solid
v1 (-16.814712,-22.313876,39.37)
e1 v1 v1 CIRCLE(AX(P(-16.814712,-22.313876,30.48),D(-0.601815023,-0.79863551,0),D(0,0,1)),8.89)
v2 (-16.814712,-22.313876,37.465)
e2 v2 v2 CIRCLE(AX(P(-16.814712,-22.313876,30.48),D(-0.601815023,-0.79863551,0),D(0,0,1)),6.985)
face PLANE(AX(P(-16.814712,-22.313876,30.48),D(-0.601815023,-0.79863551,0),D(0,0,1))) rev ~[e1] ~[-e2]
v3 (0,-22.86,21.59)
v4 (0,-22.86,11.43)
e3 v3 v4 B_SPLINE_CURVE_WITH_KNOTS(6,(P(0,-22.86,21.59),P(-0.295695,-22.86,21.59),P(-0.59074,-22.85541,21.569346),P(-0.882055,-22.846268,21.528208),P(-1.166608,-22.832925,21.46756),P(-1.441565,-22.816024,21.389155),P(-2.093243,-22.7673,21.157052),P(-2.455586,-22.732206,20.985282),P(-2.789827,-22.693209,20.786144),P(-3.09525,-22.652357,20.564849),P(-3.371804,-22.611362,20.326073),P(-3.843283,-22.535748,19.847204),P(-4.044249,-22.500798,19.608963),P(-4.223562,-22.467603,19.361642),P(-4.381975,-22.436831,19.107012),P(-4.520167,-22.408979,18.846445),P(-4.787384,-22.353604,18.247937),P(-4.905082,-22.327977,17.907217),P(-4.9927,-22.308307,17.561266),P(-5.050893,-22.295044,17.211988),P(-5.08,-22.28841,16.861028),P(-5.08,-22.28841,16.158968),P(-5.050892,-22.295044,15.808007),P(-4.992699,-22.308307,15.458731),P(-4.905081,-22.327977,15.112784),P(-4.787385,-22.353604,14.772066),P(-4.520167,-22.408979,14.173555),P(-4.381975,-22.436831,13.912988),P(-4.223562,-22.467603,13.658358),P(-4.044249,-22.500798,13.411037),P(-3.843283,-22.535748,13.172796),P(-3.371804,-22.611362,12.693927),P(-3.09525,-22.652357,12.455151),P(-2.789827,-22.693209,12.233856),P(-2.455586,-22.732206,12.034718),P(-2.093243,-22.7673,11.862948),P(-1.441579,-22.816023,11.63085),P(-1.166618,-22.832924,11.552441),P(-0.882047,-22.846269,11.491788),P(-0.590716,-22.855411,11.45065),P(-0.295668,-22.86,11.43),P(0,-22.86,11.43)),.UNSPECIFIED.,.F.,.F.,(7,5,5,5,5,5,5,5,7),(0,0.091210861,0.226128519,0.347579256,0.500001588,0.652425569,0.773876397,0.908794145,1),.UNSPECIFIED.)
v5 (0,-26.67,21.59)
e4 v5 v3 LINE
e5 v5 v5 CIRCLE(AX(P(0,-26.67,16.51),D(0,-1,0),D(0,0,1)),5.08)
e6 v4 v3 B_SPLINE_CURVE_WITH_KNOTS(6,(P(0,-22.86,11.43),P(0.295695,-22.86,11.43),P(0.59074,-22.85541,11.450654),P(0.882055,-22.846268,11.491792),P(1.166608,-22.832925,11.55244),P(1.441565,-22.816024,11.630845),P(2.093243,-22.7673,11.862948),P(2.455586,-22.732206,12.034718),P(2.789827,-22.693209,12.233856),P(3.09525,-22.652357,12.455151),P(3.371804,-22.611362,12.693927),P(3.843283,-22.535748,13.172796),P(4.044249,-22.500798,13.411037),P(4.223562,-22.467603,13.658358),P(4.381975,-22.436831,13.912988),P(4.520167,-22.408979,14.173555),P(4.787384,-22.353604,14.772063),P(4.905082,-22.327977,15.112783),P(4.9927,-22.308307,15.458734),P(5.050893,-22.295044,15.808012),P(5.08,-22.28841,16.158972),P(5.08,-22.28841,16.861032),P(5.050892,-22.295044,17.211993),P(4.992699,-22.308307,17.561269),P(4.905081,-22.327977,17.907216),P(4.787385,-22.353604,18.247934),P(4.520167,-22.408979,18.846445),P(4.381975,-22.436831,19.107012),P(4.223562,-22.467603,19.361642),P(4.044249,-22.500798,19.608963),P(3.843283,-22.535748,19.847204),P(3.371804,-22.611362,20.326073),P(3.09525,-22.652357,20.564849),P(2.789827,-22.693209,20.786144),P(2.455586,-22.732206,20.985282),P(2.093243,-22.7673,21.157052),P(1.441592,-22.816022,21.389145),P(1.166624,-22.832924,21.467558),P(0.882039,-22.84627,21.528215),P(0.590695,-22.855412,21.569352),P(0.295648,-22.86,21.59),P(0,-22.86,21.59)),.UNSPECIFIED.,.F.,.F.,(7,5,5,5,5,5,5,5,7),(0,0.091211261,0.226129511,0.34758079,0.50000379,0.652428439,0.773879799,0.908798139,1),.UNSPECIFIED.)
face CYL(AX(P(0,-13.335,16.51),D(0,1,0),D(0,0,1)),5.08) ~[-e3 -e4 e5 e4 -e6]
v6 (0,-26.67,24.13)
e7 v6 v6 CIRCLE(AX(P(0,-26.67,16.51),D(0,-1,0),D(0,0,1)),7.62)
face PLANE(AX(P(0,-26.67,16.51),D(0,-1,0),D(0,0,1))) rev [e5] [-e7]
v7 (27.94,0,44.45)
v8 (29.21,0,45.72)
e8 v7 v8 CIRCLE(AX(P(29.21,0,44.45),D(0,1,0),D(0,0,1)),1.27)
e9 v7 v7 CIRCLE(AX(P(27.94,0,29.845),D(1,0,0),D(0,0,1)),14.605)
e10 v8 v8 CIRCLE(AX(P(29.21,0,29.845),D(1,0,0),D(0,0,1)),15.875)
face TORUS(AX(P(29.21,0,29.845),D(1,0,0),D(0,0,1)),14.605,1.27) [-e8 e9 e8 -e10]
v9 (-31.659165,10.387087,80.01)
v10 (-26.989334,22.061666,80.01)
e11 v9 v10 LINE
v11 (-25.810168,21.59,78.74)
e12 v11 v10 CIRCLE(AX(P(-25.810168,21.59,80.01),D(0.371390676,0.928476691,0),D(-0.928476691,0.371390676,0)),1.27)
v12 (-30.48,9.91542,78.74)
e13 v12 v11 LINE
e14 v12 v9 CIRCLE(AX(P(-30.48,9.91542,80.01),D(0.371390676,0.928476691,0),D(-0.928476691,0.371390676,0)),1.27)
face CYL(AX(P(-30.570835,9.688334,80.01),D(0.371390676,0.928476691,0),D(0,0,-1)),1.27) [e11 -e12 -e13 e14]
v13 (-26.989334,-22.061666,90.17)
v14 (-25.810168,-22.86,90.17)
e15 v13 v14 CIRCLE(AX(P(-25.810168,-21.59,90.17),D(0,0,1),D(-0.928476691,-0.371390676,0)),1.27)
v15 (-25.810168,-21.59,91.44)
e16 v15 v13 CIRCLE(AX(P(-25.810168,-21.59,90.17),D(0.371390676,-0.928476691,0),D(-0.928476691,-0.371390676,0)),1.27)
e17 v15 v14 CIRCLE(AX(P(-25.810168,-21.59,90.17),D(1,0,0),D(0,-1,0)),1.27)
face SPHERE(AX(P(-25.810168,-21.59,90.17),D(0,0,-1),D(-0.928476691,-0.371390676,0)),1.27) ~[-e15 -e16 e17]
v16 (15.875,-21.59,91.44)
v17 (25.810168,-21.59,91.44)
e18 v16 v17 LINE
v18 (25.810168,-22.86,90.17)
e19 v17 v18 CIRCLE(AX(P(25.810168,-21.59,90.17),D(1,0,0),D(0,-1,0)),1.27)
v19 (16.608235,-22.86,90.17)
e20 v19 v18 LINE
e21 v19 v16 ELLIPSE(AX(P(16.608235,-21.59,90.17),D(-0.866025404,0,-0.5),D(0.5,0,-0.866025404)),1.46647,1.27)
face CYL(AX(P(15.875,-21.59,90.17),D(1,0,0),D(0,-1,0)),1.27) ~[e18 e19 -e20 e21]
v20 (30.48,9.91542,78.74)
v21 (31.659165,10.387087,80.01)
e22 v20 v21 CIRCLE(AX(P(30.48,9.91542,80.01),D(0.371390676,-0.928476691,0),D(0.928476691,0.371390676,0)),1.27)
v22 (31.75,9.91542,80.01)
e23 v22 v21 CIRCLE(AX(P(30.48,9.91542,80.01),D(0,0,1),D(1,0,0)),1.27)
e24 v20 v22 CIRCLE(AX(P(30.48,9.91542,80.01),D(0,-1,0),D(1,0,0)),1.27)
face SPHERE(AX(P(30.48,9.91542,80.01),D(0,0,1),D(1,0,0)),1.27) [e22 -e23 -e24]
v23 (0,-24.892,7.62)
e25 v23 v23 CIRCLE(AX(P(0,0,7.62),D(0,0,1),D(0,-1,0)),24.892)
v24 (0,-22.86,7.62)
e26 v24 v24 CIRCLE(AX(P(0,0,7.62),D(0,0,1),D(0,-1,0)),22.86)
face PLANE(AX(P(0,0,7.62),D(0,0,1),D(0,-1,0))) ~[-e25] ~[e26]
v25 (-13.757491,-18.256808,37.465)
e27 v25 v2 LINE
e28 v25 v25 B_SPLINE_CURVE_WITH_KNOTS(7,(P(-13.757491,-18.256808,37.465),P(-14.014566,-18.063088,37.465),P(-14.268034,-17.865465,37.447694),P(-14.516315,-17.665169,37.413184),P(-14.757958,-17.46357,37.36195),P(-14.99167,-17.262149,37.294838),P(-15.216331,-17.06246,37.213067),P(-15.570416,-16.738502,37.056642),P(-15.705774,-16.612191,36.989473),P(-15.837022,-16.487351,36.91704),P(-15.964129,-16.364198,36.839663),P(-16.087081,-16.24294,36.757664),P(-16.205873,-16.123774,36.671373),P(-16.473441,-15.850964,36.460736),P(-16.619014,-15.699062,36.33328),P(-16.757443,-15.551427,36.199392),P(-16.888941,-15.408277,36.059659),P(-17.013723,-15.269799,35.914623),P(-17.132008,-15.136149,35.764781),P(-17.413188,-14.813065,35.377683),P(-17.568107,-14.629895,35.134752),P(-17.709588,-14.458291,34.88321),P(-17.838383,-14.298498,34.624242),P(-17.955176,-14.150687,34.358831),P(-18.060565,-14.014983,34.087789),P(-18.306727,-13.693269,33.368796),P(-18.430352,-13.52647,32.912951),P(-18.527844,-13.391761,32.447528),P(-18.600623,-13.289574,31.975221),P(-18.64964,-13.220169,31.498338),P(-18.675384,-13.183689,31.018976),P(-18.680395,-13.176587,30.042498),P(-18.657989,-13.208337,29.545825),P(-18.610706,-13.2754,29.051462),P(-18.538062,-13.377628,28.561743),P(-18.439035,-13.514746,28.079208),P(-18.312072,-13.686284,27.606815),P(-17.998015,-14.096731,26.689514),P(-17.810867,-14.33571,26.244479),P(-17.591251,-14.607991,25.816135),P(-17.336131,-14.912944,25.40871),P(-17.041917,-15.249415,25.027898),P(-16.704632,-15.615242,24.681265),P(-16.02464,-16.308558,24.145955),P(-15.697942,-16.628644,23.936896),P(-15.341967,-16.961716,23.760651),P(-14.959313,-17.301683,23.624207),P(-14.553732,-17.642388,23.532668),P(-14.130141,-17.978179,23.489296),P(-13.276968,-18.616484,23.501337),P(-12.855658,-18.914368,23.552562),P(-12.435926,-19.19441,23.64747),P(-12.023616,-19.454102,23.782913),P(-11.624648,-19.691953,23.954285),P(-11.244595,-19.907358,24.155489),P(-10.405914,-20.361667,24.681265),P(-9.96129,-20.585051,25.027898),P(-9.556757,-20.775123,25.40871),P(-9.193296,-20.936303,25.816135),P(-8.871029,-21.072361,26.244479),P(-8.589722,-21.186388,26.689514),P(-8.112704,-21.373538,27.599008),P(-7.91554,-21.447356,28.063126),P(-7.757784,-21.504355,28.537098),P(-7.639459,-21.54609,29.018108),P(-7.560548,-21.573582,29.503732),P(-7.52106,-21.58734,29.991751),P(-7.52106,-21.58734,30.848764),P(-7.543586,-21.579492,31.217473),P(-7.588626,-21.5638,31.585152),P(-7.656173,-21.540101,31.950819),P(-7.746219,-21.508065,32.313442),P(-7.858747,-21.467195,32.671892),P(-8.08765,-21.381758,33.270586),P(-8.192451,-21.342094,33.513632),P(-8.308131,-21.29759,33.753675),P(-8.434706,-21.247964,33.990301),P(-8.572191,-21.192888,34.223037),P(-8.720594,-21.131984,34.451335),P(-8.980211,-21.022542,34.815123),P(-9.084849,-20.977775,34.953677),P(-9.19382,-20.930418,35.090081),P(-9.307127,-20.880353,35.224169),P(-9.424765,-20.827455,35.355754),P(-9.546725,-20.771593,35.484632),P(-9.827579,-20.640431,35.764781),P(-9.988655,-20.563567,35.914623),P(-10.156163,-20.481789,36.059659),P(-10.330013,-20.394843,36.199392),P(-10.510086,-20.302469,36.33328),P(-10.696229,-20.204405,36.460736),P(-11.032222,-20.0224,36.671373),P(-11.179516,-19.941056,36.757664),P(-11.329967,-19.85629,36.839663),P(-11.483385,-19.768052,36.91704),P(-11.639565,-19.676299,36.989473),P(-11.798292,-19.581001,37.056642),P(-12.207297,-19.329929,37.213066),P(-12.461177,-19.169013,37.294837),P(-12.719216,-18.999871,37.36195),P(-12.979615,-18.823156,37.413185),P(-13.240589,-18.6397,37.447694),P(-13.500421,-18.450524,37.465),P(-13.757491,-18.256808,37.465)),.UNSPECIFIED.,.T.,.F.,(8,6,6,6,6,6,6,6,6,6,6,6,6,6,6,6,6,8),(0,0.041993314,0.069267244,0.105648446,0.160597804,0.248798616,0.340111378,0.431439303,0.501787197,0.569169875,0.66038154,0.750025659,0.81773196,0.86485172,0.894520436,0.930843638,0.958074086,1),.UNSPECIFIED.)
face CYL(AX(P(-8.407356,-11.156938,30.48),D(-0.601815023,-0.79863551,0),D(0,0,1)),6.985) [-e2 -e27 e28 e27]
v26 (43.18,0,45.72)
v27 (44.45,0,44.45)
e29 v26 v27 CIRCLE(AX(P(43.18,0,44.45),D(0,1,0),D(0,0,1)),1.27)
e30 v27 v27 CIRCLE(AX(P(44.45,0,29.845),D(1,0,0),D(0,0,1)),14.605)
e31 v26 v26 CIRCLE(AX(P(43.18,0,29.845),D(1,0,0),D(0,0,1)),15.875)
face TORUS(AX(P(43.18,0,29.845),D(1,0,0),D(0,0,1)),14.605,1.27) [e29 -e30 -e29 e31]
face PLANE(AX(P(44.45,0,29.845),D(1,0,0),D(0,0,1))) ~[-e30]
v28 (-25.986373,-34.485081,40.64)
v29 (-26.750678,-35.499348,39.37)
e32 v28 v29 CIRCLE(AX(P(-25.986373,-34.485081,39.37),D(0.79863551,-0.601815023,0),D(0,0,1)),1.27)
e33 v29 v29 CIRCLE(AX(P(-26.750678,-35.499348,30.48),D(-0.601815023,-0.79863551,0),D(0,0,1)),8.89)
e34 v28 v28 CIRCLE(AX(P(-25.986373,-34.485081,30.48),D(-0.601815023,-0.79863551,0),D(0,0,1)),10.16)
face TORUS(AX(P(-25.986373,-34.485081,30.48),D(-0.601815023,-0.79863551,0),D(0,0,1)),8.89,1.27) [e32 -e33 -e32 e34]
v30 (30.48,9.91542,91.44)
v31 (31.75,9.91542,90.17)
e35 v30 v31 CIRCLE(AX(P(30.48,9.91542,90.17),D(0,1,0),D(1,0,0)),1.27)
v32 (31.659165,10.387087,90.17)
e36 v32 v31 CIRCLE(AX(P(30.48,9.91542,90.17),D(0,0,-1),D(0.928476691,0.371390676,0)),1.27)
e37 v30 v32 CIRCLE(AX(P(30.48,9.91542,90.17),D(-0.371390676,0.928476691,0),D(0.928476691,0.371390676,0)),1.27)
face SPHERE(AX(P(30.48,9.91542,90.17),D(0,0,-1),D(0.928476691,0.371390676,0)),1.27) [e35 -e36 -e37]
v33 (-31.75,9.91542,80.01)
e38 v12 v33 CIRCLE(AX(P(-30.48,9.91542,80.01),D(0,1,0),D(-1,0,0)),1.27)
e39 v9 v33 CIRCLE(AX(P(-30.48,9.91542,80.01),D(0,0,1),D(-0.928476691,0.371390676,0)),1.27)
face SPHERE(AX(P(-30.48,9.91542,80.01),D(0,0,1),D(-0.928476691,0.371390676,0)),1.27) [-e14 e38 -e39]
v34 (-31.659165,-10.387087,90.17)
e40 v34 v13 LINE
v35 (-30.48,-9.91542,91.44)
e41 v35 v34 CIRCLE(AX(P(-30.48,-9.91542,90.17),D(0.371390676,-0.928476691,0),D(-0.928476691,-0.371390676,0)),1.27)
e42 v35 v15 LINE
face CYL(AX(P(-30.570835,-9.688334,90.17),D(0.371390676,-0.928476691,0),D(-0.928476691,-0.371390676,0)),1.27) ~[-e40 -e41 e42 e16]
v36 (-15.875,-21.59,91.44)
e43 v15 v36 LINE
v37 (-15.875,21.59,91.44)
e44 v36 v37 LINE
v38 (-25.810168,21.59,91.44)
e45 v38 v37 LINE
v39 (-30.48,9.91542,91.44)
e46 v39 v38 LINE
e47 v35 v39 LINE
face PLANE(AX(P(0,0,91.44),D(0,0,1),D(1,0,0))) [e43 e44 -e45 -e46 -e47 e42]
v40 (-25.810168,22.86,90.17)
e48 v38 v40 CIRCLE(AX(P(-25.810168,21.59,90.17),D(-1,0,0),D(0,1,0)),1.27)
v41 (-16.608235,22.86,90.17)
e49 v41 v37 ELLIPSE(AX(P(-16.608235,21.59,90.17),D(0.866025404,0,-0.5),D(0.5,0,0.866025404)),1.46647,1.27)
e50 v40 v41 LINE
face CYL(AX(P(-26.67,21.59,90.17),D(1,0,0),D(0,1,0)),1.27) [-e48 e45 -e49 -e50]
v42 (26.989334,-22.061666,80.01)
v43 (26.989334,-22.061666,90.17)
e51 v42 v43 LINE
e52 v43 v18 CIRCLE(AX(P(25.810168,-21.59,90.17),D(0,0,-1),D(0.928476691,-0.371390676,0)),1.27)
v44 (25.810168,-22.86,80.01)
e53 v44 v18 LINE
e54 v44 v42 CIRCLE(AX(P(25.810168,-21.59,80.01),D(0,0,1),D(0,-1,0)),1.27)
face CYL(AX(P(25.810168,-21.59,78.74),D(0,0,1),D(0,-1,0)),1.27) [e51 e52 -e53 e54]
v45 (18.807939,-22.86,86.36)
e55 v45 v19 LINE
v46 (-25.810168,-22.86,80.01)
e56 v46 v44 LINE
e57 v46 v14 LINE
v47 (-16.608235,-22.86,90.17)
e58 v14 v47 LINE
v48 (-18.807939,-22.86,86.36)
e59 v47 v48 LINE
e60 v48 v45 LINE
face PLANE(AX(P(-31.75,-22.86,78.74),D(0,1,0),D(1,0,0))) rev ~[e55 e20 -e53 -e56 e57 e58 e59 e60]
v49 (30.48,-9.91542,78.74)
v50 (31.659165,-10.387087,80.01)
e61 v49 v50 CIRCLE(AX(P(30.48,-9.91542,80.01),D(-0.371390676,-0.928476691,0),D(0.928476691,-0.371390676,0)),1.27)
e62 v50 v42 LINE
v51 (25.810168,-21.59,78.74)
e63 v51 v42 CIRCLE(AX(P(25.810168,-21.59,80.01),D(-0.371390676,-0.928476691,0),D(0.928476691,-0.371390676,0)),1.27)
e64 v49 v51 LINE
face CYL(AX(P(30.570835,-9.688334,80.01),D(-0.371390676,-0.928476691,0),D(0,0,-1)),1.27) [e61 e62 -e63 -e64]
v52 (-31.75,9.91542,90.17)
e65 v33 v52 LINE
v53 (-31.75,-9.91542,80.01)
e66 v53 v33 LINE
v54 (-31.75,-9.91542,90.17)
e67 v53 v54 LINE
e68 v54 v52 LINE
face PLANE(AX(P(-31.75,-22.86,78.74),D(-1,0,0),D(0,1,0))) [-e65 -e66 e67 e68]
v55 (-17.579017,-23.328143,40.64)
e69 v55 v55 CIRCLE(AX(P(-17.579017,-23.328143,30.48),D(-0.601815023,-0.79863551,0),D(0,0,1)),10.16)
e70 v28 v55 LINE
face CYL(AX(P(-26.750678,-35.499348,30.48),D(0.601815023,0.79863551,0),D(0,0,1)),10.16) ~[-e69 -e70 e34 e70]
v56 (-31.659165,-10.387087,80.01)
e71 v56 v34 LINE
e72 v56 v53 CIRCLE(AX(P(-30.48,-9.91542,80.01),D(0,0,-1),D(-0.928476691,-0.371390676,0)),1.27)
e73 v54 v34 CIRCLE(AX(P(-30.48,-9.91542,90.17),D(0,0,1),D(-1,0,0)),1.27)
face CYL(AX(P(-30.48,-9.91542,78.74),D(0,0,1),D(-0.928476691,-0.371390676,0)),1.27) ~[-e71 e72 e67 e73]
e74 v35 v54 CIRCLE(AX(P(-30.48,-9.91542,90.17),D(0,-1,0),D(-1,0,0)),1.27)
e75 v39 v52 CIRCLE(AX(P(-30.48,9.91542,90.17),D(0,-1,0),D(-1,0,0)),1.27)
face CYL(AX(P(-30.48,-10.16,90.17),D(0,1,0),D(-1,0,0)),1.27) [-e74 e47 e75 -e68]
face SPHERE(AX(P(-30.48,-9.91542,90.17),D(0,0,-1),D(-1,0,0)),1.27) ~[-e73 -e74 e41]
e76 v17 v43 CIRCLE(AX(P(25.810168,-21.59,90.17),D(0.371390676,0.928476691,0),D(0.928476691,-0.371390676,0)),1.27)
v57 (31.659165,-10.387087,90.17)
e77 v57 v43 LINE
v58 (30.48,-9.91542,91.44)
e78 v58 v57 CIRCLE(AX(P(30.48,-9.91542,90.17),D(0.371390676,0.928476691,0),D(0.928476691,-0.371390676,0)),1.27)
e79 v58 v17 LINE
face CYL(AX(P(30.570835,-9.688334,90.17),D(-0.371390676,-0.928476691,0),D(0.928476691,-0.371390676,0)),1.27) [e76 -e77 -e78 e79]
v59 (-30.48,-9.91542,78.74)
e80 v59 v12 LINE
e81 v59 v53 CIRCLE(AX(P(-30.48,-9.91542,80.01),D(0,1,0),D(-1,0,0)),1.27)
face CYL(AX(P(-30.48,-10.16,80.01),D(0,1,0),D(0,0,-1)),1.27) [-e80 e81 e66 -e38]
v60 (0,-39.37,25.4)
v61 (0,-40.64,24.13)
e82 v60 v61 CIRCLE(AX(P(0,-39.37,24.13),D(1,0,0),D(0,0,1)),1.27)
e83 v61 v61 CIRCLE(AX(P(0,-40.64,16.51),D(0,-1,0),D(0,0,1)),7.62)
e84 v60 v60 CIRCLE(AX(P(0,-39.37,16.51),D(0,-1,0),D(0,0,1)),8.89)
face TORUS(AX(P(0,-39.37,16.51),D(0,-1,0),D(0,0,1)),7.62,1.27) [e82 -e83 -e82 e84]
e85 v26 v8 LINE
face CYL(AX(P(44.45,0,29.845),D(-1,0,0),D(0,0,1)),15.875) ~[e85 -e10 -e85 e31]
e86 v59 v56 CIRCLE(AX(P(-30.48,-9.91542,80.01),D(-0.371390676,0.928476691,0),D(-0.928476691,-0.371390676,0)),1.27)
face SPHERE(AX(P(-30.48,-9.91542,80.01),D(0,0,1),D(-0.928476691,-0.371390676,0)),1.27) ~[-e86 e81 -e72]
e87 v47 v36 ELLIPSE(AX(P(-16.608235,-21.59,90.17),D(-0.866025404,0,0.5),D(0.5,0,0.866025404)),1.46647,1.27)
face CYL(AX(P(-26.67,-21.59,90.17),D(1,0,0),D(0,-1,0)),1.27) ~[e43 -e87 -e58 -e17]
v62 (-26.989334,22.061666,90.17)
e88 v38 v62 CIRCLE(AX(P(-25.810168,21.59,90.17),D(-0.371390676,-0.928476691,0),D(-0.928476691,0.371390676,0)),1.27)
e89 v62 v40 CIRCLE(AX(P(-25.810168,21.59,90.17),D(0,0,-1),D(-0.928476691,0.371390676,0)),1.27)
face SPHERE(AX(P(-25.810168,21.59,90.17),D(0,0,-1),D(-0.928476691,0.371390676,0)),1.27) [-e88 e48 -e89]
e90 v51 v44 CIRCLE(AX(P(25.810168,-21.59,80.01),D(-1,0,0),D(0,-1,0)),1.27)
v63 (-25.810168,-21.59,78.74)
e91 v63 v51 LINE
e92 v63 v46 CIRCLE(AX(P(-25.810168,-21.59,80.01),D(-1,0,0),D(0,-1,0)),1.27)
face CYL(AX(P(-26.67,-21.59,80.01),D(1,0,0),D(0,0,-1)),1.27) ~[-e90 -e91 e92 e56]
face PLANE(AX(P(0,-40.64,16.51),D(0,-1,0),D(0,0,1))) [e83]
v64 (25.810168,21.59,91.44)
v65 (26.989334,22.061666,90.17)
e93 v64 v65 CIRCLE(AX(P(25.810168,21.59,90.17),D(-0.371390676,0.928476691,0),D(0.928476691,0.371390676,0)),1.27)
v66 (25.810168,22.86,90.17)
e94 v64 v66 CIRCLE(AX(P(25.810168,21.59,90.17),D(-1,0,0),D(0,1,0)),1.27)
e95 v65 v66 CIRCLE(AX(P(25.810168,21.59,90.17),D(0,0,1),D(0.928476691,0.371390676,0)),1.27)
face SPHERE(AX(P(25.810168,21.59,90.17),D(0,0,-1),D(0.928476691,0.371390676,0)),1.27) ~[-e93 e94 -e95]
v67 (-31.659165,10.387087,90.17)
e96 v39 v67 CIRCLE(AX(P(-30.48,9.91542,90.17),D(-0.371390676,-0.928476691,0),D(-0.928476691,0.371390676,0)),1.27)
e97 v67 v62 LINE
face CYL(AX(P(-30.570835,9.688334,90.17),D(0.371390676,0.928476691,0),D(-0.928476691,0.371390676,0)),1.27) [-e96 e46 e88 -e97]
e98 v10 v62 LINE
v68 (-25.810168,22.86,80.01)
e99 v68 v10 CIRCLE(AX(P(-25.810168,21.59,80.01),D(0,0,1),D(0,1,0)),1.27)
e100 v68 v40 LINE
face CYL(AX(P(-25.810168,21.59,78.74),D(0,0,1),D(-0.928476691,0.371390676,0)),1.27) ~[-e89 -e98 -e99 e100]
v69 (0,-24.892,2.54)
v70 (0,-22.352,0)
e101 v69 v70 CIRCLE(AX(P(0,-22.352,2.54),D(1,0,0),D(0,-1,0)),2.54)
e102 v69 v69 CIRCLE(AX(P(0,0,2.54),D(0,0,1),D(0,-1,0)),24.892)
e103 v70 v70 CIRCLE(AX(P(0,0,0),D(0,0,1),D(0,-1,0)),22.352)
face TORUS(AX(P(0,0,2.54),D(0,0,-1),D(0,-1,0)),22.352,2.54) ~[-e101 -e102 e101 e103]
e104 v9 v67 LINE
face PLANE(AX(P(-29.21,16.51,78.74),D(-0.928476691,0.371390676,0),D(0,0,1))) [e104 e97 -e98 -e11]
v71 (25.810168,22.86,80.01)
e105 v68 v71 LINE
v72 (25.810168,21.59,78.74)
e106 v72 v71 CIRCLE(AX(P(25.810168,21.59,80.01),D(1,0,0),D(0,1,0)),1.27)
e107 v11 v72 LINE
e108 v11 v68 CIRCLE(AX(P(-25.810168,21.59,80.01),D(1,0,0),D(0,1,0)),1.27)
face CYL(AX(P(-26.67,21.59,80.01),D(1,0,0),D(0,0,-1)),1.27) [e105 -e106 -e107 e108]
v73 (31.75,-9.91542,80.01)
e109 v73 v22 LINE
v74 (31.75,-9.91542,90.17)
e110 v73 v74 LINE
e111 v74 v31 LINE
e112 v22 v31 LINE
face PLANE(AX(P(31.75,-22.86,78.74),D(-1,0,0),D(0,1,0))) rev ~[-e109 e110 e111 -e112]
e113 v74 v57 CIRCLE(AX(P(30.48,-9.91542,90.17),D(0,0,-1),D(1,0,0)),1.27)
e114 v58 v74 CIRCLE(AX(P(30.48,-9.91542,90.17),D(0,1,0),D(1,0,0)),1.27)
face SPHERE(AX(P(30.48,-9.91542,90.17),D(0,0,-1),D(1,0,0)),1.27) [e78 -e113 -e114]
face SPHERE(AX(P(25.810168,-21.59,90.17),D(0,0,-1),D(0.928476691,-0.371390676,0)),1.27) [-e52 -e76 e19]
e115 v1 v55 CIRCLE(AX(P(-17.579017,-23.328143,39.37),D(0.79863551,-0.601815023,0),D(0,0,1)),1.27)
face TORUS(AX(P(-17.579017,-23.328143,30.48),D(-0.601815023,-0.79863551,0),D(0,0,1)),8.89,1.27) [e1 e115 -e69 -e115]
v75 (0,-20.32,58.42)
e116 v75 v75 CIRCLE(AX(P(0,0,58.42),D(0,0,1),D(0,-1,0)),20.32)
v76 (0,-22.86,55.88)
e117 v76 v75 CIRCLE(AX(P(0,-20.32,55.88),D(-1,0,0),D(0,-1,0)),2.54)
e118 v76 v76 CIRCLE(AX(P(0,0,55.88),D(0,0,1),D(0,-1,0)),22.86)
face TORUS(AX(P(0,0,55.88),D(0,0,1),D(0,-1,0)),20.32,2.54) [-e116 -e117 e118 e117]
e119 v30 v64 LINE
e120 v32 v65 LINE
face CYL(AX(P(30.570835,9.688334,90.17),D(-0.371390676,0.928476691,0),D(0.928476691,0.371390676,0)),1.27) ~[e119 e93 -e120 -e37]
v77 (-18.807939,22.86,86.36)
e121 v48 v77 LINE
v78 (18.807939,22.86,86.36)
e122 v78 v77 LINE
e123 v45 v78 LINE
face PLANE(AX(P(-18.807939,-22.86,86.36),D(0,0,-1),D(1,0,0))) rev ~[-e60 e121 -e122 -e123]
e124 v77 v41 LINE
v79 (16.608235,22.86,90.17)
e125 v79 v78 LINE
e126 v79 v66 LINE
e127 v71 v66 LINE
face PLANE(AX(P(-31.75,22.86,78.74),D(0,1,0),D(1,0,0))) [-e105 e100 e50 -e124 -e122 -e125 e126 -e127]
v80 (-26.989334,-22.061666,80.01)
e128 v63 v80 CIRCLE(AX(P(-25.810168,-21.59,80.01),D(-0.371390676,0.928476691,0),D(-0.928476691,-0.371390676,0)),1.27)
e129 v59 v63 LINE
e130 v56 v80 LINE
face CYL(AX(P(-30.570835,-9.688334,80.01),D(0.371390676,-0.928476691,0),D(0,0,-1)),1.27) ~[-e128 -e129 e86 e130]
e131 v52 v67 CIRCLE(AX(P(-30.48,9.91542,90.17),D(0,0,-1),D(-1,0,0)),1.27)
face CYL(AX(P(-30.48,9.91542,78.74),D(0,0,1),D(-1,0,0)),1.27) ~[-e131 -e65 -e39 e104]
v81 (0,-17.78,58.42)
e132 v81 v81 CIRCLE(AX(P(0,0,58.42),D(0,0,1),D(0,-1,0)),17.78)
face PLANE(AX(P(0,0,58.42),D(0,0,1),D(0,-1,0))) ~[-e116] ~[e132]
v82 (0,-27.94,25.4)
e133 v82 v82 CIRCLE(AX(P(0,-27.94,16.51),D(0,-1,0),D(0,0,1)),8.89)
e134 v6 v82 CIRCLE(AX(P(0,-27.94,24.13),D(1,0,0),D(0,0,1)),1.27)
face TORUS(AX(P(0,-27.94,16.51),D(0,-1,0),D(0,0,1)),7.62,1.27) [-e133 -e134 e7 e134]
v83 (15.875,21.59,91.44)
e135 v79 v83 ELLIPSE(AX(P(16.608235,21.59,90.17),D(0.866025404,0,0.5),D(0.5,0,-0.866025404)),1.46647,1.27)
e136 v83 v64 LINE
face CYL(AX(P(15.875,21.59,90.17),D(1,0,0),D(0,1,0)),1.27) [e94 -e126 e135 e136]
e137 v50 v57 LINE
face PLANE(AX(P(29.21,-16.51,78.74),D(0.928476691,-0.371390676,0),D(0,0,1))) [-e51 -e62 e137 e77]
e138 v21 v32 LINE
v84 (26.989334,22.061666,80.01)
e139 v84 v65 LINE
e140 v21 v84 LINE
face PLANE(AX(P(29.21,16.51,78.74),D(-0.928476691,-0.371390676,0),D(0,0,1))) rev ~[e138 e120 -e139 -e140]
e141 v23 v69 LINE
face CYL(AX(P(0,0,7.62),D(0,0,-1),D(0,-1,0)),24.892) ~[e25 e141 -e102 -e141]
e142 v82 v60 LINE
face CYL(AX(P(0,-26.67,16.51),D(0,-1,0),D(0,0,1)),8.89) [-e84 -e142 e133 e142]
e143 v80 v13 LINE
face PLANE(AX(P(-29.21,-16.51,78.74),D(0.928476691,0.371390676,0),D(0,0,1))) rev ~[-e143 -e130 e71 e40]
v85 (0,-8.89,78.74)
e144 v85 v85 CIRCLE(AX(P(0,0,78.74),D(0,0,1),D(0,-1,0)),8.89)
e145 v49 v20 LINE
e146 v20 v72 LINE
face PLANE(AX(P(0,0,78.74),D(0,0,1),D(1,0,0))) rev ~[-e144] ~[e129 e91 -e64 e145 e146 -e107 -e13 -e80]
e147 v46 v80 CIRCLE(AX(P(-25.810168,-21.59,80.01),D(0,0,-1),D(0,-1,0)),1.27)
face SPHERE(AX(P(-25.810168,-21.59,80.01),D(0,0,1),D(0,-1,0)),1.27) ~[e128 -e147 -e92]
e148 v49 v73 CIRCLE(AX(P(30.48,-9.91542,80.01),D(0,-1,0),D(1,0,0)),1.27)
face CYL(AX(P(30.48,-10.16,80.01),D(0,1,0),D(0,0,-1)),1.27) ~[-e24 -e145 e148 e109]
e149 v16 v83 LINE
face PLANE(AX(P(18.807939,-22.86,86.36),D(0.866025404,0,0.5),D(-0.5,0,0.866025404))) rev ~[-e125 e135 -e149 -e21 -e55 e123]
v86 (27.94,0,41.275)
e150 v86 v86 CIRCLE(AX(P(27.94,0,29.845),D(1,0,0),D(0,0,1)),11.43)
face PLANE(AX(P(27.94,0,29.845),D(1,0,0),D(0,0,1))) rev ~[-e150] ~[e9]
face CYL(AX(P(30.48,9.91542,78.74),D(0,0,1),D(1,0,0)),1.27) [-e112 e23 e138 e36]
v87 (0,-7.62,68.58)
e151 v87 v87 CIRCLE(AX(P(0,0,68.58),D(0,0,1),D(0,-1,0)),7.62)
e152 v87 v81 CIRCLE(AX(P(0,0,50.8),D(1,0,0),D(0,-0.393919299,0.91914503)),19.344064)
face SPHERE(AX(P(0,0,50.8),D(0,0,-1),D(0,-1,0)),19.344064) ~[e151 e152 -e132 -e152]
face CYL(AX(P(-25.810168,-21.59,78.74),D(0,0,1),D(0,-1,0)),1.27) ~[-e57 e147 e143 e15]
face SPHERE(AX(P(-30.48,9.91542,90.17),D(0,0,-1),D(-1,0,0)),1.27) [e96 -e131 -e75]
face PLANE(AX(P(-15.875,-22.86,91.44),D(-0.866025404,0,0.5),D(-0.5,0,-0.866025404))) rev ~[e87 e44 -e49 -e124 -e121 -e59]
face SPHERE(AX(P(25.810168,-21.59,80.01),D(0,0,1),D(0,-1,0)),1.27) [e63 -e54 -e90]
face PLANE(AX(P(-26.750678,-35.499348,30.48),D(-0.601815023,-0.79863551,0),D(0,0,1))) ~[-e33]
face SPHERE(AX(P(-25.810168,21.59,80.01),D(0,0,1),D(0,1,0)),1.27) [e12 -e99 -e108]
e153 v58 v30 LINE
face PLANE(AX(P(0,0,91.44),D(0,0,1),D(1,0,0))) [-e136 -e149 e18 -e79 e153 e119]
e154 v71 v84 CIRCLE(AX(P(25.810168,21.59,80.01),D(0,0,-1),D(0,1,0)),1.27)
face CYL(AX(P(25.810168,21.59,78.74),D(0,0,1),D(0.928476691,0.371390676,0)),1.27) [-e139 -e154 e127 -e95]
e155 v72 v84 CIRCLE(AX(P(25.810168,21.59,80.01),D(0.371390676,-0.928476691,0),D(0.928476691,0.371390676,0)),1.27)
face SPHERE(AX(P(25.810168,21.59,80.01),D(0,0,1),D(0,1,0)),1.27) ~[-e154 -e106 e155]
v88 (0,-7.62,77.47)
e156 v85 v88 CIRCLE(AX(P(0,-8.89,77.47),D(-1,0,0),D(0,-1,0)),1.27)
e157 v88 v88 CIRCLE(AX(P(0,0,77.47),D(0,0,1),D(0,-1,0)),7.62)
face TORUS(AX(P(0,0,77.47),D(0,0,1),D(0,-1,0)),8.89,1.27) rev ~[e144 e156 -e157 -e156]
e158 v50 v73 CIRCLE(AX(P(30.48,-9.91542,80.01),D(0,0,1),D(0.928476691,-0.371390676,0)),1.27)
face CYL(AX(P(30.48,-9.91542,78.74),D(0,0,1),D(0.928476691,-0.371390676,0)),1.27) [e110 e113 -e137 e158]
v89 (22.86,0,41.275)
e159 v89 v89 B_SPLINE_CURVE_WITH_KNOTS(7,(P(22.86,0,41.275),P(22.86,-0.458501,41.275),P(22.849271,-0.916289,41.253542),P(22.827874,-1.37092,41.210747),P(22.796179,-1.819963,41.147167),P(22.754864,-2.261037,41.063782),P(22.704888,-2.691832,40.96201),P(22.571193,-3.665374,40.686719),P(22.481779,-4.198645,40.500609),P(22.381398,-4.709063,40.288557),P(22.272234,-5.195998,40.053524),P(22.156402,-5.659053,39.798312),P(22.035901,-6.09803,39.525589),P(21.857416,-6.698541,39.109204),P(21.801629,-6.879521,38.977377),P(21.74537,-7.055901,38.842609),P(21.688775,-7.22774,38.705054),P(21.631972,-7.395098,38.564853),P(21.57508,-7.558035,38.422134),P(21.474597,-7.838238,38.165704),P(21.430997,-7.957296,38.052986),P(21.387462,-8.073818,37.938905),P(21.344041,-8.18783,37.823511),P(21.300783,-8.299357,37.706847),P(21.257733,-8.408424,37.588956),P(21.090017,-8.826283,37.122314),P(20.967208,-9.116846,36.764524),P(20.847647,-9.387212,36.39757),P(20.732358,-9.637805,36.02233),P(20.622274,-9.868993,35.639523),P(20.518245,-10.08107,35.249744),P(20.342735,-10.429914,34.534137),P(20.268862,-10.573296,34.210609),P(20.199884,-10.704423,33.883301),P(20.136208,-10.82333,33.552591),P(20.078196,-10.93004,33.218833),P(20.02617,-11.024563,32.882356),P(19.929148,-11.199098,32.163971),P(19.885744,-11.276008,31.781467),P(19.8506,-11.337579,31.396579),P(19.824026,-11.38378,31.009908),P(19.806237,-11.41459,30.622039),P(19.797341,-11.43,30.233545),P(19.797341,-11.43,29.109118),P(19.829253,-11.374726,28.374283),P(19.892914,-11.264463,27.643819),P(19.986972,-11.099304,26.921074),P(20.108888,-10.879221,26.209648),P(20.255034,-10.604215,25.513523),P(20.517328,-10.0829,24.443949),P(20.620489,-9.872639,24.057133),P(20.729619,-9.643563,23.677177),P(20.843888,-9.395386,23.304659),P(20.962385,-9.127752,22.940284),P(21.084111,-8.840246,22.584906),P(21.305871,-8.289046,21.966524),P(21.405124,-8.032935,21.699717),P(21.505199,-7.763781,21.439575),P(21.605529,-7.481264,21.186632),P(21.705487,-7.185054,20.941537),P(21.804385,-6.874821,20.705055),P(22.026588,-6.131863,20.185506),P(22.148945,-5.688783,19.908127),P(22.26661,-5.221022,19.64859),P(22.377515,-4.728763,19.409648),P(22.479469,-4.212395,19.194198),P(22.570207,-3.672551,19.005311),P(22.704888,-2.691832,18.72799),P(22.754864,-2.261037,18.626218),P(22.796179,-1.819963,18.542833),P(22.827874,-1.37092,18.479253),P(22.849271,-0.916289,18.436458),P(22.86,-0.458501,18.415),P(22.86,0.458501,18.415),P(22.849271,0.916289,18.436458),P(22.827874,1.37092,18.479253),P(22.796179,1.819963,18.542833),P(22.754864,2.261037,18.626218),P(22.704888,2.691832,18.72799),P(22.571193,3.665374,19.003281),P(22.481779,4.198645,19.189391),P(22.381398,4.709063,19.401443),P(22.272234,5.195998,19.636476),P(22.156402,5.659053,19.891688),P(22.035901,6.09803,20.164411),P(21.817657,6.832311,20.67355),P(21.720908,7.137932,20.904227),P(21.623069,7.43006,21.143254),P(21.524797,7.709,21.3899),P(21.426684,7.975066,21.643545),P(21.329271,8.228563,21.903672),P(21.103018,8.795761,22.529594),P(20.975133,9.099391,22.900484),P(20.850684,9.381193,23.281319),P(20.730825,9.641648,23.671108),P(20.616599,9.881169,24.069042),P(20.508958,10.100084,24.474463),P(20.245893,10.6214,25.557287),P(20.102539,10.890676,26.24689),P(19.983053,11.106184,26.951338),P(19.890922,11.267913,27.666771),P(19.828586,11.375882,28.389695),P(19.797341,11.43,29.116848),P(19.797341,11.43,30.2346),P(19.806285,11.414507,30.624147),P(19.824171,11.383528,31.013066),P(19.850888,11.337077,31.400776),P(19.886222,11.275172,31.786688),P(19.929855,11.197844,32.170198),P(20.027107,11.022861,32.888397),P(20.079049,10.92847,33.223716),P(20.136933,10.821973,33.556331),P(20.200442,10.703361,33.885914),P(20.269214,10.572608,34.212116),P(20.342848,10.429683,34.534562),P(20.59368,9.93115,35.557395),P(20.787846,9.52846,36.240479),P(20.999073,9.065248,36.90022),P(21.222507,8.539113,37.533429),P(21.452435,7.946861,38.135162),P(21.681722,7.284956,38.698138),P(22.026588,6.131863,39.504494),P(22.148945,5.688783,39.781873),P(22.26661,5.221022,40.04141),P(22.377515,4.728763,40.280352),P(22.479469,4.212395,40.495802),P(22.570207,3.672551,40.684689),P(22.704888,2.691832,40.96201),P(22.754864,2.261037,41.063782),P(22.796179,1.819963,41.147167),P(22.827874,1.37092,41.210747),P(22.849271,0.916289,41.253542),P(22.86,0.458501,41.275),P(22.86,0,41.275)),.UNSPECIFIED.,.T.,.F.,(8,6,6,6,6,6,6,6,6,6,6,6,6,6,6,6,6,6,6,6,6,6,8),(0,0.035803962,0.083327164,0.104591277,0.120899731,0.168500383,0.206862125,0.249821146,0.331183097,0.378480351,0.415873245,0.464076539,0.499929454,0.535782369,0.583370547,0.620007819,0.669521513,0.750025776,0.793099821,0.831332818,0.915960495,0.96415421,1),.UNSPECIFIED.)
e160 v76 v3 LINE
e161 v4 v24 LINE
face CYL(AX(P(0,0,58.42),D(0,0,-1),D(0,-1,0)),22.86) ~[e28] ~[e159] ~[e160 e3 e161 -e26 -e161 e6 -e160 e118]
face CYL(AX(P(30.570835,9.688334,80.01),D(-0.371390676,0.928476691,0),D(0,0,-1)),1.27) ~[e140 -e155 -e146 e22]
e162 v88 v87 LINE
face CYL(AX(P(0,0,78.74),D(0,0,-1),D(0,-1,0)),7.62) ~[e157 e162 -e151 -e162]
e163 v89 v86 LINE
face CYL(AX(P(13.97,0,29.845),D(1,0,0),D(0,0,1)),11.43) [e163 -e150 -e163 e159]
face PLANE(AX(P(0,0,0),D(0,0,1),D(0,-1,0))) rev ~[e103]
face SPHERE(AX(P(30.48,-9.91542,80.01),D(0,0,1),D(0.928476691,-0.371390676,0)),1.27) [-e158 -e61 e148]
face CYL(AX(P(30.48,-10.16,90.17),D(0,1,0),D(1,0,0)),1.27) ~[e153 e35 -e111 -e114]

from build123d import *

# Parameters (mm, degrees)
F2_W        = 63.5
F2_H        = 45.72
F3_DEPTH    = 12.7
F5_DEPTH    = 47.753
F6_W        = 26.67
F6_H        = 5.08
F8_W        = 27.94
F8_H        = 11.43
F11_W       = 27.94
F11_H       = 6.985
F13_R       = 2.54
F14_R       = 1.27
F15_SIZE2   = 5.08
F15_SIZE    = 12.7
F15_2_SIZE2 = 5.08
F15_2_SIZE  = 12.7
F16_R       = 1.27


with BuildPart() as f1:
    # F0 (on Right) → F1 (revolve)
    with BuildSketch(Plane.YZ):
        with BuildLine():
            Line((-24.892, 0), (0, 0))
            Line((0, 0), (0, 78.74))
            Line((0, 78.74), (-7.62, 78.74))
            Line((-7.62, 78.74), (-7.62, 68.58))
            ThreePointArc((-7.62, 68.58), (-13.6783186101, 64.4783186101), (-17.78, 58.42))
            Line((-17.78, 58.42), (-22.86, 58.42))
            Line((-22.86, 58.42), (-22.86, 7.62))
            Line((-22.86, 7.62), (-24.892, 7.62))
            Line((-24.892, 7.62), (-24.892, 0))
        make_face()
    revolve(axis=Axis((0, 0, 27.3554707607), (0, 0, 1)))

    # F2 (on face) → F3 (join)
    with BuildSketch(Plane.XY.offset(78.74)):
        Rectangle(F2_W, F2_H)
    extrude(amount=F3_DEPTH)

    # F4 (on face) → F5 (cut, through all)
    with BuildSketch(Plane.XZ.offset(22.86)):
        Polygon((-15.875, 91.44), (-18.8079393675, 86.36), (18.8079393675, 86.36), (15.875, 91.44), align=None)
    extrude(amount=-F5_DEPTH, mode=Mode.SUBTRACT)

    # F6 (on Right) → F7 (revolve)
    with BuildSketch(Plane.YZ):
        Polygon((-26.67, 16.51), (-26.67, 21.59), (-26.67, 25.4), (-40.64, 25.4), (-40.64, 16.51), align=None)
        with Locations((-13.335, 19.05)):
            Rectangle(F6_W, F6_H)
    revolve(axis=Axis((0, -20.32, 16.51), (0, -1, 0)))

    # F8 (on Front) → F9 (revolve)
    with BuildSketch(Plane.XZ):
        Polygon((27.94, 45.72), (27.94, 41.275), (27.94, 29.845), (44.45, 29.845), (44.45, 45.72), align=None)
        with Locations((13.97, 35.56)):
            Rectangle(F8_W, F8_H)
    revolve(axis=Axis((30.3540631865, 0, 29.845), (1, 0, 0)))

    # F11 (on line) → F12 (revolve)
    with BuildSketch(Plane(origin=(0, 0, 0), x_dir=(-0.6018150232, -0.79863551, 0), z_dir=(-0.79863551, 0.6018150232, 0))):
        with Locations((13.97, 33.9725)):
            Rectangle(F11_W, F11_H)
        Polygon((27.94, 40.64), (27.94, 37.465), (27.94, 30.48), (44.45, 30.48), (44.45, 40.64), align=None)
    revolve(axis=Axis((-13.3753388896, -17.7496742108, 30.48), (-0.6018150232, -0.79863551, 0)))

    # F13
    f13_edges = [f1.edges().sort_by_distance(p)[0] for p in [
        (0, 24.892, 0),
        (0, 22.86, 58.42),
    ]]
    fillet(f13_edges, radius=F13_R)

    # F14
    f14_edges = [f1.edges().sort_by_distance(p)[0] for p in [
        (-26.750678, -35.499348, 20.32),
        (0, -40.64, 7.62),
        (44.45, 0, 13.97),
        (27.94, 0, 13.97),
        (0, -26.67, 7.62),
        (-16.814712, -22.313876, 20.32),
    ]]
    fillet(f14_edges, radius=F14_R)

    # F15
    f15_edges = [f1.edges().sort_by_distance(p)[0] for p in [
        (-31.75, 22.86, 85.09),
        (-31.75, -22.86, 85.09),
    ]]
    f15_side = f1.faces().sort_by_distance((-31.75, 0, 85.09))[0]
    chamfer(f15_edges, length=F15_SIZE, length2=F15_SIZE2, reference=f15_side)

    # F15#2
    f15_2_edges = [f1.edges().sort_by_distance(p)[0] for p in [
        (31.75, -22.86, 85.09),
        (31.75, 22.86, 85.09),
    ]]
    f15_2_side = f1.faces().sort_by_distance((31.75, 0, 85.09))[0]
    chamfer(f15_2_edges, length=F15_2_SIZE, length2=F15_2_SIZE2, reference=f15_2_side)

    # F16
    f16_edges = [f1.edges().sort_by_distance(p)[0] for p in [
        (-31.75, 0, 78.74),
        (-31.75, 10.16, 85.09),
        (-31.75, -10.16, 85.09),
        (-31.75, 0, 91.44),
        (-29.21, -16.51, 78.74),
        (-26.67, -22.86, 85.09),
        (-29.21, -16.51, 91.44),
        (-29.21, 16.51, 78.74),
        (-26.67, 22.86, 85.09),
        (-29.21, 16.51, 91.44),
        (29.21, 16.51, 78.74),
        (31.75, 10.16, 85.09),
        (26.67, 22.86, 85.09),
        (29.21, 16.51, 91.44),
        (31.75, 0, 78.74),
        (31.75, -10.16, 85.09),
        (31.75, 0, 91.44),
        (29.21, -16.51, 78.74),
        (26.67, -22.86, 85.09),
        (29.21, -16.51, 91.44),
        (-21.2725, -22.86, 91.44),
        (21.2725, -22.86, 91.44),
        (21.2725, 22.86, 91.44),
        (-21.2725, 22.86, 91.44),
        (0, 22.86, 78.74),
        (0, -22.86, 78.74),
        (0, 7.62, 78.74),
    ]]
    fillet(f16_edges, radius=F16_R)


solid = f1.part
